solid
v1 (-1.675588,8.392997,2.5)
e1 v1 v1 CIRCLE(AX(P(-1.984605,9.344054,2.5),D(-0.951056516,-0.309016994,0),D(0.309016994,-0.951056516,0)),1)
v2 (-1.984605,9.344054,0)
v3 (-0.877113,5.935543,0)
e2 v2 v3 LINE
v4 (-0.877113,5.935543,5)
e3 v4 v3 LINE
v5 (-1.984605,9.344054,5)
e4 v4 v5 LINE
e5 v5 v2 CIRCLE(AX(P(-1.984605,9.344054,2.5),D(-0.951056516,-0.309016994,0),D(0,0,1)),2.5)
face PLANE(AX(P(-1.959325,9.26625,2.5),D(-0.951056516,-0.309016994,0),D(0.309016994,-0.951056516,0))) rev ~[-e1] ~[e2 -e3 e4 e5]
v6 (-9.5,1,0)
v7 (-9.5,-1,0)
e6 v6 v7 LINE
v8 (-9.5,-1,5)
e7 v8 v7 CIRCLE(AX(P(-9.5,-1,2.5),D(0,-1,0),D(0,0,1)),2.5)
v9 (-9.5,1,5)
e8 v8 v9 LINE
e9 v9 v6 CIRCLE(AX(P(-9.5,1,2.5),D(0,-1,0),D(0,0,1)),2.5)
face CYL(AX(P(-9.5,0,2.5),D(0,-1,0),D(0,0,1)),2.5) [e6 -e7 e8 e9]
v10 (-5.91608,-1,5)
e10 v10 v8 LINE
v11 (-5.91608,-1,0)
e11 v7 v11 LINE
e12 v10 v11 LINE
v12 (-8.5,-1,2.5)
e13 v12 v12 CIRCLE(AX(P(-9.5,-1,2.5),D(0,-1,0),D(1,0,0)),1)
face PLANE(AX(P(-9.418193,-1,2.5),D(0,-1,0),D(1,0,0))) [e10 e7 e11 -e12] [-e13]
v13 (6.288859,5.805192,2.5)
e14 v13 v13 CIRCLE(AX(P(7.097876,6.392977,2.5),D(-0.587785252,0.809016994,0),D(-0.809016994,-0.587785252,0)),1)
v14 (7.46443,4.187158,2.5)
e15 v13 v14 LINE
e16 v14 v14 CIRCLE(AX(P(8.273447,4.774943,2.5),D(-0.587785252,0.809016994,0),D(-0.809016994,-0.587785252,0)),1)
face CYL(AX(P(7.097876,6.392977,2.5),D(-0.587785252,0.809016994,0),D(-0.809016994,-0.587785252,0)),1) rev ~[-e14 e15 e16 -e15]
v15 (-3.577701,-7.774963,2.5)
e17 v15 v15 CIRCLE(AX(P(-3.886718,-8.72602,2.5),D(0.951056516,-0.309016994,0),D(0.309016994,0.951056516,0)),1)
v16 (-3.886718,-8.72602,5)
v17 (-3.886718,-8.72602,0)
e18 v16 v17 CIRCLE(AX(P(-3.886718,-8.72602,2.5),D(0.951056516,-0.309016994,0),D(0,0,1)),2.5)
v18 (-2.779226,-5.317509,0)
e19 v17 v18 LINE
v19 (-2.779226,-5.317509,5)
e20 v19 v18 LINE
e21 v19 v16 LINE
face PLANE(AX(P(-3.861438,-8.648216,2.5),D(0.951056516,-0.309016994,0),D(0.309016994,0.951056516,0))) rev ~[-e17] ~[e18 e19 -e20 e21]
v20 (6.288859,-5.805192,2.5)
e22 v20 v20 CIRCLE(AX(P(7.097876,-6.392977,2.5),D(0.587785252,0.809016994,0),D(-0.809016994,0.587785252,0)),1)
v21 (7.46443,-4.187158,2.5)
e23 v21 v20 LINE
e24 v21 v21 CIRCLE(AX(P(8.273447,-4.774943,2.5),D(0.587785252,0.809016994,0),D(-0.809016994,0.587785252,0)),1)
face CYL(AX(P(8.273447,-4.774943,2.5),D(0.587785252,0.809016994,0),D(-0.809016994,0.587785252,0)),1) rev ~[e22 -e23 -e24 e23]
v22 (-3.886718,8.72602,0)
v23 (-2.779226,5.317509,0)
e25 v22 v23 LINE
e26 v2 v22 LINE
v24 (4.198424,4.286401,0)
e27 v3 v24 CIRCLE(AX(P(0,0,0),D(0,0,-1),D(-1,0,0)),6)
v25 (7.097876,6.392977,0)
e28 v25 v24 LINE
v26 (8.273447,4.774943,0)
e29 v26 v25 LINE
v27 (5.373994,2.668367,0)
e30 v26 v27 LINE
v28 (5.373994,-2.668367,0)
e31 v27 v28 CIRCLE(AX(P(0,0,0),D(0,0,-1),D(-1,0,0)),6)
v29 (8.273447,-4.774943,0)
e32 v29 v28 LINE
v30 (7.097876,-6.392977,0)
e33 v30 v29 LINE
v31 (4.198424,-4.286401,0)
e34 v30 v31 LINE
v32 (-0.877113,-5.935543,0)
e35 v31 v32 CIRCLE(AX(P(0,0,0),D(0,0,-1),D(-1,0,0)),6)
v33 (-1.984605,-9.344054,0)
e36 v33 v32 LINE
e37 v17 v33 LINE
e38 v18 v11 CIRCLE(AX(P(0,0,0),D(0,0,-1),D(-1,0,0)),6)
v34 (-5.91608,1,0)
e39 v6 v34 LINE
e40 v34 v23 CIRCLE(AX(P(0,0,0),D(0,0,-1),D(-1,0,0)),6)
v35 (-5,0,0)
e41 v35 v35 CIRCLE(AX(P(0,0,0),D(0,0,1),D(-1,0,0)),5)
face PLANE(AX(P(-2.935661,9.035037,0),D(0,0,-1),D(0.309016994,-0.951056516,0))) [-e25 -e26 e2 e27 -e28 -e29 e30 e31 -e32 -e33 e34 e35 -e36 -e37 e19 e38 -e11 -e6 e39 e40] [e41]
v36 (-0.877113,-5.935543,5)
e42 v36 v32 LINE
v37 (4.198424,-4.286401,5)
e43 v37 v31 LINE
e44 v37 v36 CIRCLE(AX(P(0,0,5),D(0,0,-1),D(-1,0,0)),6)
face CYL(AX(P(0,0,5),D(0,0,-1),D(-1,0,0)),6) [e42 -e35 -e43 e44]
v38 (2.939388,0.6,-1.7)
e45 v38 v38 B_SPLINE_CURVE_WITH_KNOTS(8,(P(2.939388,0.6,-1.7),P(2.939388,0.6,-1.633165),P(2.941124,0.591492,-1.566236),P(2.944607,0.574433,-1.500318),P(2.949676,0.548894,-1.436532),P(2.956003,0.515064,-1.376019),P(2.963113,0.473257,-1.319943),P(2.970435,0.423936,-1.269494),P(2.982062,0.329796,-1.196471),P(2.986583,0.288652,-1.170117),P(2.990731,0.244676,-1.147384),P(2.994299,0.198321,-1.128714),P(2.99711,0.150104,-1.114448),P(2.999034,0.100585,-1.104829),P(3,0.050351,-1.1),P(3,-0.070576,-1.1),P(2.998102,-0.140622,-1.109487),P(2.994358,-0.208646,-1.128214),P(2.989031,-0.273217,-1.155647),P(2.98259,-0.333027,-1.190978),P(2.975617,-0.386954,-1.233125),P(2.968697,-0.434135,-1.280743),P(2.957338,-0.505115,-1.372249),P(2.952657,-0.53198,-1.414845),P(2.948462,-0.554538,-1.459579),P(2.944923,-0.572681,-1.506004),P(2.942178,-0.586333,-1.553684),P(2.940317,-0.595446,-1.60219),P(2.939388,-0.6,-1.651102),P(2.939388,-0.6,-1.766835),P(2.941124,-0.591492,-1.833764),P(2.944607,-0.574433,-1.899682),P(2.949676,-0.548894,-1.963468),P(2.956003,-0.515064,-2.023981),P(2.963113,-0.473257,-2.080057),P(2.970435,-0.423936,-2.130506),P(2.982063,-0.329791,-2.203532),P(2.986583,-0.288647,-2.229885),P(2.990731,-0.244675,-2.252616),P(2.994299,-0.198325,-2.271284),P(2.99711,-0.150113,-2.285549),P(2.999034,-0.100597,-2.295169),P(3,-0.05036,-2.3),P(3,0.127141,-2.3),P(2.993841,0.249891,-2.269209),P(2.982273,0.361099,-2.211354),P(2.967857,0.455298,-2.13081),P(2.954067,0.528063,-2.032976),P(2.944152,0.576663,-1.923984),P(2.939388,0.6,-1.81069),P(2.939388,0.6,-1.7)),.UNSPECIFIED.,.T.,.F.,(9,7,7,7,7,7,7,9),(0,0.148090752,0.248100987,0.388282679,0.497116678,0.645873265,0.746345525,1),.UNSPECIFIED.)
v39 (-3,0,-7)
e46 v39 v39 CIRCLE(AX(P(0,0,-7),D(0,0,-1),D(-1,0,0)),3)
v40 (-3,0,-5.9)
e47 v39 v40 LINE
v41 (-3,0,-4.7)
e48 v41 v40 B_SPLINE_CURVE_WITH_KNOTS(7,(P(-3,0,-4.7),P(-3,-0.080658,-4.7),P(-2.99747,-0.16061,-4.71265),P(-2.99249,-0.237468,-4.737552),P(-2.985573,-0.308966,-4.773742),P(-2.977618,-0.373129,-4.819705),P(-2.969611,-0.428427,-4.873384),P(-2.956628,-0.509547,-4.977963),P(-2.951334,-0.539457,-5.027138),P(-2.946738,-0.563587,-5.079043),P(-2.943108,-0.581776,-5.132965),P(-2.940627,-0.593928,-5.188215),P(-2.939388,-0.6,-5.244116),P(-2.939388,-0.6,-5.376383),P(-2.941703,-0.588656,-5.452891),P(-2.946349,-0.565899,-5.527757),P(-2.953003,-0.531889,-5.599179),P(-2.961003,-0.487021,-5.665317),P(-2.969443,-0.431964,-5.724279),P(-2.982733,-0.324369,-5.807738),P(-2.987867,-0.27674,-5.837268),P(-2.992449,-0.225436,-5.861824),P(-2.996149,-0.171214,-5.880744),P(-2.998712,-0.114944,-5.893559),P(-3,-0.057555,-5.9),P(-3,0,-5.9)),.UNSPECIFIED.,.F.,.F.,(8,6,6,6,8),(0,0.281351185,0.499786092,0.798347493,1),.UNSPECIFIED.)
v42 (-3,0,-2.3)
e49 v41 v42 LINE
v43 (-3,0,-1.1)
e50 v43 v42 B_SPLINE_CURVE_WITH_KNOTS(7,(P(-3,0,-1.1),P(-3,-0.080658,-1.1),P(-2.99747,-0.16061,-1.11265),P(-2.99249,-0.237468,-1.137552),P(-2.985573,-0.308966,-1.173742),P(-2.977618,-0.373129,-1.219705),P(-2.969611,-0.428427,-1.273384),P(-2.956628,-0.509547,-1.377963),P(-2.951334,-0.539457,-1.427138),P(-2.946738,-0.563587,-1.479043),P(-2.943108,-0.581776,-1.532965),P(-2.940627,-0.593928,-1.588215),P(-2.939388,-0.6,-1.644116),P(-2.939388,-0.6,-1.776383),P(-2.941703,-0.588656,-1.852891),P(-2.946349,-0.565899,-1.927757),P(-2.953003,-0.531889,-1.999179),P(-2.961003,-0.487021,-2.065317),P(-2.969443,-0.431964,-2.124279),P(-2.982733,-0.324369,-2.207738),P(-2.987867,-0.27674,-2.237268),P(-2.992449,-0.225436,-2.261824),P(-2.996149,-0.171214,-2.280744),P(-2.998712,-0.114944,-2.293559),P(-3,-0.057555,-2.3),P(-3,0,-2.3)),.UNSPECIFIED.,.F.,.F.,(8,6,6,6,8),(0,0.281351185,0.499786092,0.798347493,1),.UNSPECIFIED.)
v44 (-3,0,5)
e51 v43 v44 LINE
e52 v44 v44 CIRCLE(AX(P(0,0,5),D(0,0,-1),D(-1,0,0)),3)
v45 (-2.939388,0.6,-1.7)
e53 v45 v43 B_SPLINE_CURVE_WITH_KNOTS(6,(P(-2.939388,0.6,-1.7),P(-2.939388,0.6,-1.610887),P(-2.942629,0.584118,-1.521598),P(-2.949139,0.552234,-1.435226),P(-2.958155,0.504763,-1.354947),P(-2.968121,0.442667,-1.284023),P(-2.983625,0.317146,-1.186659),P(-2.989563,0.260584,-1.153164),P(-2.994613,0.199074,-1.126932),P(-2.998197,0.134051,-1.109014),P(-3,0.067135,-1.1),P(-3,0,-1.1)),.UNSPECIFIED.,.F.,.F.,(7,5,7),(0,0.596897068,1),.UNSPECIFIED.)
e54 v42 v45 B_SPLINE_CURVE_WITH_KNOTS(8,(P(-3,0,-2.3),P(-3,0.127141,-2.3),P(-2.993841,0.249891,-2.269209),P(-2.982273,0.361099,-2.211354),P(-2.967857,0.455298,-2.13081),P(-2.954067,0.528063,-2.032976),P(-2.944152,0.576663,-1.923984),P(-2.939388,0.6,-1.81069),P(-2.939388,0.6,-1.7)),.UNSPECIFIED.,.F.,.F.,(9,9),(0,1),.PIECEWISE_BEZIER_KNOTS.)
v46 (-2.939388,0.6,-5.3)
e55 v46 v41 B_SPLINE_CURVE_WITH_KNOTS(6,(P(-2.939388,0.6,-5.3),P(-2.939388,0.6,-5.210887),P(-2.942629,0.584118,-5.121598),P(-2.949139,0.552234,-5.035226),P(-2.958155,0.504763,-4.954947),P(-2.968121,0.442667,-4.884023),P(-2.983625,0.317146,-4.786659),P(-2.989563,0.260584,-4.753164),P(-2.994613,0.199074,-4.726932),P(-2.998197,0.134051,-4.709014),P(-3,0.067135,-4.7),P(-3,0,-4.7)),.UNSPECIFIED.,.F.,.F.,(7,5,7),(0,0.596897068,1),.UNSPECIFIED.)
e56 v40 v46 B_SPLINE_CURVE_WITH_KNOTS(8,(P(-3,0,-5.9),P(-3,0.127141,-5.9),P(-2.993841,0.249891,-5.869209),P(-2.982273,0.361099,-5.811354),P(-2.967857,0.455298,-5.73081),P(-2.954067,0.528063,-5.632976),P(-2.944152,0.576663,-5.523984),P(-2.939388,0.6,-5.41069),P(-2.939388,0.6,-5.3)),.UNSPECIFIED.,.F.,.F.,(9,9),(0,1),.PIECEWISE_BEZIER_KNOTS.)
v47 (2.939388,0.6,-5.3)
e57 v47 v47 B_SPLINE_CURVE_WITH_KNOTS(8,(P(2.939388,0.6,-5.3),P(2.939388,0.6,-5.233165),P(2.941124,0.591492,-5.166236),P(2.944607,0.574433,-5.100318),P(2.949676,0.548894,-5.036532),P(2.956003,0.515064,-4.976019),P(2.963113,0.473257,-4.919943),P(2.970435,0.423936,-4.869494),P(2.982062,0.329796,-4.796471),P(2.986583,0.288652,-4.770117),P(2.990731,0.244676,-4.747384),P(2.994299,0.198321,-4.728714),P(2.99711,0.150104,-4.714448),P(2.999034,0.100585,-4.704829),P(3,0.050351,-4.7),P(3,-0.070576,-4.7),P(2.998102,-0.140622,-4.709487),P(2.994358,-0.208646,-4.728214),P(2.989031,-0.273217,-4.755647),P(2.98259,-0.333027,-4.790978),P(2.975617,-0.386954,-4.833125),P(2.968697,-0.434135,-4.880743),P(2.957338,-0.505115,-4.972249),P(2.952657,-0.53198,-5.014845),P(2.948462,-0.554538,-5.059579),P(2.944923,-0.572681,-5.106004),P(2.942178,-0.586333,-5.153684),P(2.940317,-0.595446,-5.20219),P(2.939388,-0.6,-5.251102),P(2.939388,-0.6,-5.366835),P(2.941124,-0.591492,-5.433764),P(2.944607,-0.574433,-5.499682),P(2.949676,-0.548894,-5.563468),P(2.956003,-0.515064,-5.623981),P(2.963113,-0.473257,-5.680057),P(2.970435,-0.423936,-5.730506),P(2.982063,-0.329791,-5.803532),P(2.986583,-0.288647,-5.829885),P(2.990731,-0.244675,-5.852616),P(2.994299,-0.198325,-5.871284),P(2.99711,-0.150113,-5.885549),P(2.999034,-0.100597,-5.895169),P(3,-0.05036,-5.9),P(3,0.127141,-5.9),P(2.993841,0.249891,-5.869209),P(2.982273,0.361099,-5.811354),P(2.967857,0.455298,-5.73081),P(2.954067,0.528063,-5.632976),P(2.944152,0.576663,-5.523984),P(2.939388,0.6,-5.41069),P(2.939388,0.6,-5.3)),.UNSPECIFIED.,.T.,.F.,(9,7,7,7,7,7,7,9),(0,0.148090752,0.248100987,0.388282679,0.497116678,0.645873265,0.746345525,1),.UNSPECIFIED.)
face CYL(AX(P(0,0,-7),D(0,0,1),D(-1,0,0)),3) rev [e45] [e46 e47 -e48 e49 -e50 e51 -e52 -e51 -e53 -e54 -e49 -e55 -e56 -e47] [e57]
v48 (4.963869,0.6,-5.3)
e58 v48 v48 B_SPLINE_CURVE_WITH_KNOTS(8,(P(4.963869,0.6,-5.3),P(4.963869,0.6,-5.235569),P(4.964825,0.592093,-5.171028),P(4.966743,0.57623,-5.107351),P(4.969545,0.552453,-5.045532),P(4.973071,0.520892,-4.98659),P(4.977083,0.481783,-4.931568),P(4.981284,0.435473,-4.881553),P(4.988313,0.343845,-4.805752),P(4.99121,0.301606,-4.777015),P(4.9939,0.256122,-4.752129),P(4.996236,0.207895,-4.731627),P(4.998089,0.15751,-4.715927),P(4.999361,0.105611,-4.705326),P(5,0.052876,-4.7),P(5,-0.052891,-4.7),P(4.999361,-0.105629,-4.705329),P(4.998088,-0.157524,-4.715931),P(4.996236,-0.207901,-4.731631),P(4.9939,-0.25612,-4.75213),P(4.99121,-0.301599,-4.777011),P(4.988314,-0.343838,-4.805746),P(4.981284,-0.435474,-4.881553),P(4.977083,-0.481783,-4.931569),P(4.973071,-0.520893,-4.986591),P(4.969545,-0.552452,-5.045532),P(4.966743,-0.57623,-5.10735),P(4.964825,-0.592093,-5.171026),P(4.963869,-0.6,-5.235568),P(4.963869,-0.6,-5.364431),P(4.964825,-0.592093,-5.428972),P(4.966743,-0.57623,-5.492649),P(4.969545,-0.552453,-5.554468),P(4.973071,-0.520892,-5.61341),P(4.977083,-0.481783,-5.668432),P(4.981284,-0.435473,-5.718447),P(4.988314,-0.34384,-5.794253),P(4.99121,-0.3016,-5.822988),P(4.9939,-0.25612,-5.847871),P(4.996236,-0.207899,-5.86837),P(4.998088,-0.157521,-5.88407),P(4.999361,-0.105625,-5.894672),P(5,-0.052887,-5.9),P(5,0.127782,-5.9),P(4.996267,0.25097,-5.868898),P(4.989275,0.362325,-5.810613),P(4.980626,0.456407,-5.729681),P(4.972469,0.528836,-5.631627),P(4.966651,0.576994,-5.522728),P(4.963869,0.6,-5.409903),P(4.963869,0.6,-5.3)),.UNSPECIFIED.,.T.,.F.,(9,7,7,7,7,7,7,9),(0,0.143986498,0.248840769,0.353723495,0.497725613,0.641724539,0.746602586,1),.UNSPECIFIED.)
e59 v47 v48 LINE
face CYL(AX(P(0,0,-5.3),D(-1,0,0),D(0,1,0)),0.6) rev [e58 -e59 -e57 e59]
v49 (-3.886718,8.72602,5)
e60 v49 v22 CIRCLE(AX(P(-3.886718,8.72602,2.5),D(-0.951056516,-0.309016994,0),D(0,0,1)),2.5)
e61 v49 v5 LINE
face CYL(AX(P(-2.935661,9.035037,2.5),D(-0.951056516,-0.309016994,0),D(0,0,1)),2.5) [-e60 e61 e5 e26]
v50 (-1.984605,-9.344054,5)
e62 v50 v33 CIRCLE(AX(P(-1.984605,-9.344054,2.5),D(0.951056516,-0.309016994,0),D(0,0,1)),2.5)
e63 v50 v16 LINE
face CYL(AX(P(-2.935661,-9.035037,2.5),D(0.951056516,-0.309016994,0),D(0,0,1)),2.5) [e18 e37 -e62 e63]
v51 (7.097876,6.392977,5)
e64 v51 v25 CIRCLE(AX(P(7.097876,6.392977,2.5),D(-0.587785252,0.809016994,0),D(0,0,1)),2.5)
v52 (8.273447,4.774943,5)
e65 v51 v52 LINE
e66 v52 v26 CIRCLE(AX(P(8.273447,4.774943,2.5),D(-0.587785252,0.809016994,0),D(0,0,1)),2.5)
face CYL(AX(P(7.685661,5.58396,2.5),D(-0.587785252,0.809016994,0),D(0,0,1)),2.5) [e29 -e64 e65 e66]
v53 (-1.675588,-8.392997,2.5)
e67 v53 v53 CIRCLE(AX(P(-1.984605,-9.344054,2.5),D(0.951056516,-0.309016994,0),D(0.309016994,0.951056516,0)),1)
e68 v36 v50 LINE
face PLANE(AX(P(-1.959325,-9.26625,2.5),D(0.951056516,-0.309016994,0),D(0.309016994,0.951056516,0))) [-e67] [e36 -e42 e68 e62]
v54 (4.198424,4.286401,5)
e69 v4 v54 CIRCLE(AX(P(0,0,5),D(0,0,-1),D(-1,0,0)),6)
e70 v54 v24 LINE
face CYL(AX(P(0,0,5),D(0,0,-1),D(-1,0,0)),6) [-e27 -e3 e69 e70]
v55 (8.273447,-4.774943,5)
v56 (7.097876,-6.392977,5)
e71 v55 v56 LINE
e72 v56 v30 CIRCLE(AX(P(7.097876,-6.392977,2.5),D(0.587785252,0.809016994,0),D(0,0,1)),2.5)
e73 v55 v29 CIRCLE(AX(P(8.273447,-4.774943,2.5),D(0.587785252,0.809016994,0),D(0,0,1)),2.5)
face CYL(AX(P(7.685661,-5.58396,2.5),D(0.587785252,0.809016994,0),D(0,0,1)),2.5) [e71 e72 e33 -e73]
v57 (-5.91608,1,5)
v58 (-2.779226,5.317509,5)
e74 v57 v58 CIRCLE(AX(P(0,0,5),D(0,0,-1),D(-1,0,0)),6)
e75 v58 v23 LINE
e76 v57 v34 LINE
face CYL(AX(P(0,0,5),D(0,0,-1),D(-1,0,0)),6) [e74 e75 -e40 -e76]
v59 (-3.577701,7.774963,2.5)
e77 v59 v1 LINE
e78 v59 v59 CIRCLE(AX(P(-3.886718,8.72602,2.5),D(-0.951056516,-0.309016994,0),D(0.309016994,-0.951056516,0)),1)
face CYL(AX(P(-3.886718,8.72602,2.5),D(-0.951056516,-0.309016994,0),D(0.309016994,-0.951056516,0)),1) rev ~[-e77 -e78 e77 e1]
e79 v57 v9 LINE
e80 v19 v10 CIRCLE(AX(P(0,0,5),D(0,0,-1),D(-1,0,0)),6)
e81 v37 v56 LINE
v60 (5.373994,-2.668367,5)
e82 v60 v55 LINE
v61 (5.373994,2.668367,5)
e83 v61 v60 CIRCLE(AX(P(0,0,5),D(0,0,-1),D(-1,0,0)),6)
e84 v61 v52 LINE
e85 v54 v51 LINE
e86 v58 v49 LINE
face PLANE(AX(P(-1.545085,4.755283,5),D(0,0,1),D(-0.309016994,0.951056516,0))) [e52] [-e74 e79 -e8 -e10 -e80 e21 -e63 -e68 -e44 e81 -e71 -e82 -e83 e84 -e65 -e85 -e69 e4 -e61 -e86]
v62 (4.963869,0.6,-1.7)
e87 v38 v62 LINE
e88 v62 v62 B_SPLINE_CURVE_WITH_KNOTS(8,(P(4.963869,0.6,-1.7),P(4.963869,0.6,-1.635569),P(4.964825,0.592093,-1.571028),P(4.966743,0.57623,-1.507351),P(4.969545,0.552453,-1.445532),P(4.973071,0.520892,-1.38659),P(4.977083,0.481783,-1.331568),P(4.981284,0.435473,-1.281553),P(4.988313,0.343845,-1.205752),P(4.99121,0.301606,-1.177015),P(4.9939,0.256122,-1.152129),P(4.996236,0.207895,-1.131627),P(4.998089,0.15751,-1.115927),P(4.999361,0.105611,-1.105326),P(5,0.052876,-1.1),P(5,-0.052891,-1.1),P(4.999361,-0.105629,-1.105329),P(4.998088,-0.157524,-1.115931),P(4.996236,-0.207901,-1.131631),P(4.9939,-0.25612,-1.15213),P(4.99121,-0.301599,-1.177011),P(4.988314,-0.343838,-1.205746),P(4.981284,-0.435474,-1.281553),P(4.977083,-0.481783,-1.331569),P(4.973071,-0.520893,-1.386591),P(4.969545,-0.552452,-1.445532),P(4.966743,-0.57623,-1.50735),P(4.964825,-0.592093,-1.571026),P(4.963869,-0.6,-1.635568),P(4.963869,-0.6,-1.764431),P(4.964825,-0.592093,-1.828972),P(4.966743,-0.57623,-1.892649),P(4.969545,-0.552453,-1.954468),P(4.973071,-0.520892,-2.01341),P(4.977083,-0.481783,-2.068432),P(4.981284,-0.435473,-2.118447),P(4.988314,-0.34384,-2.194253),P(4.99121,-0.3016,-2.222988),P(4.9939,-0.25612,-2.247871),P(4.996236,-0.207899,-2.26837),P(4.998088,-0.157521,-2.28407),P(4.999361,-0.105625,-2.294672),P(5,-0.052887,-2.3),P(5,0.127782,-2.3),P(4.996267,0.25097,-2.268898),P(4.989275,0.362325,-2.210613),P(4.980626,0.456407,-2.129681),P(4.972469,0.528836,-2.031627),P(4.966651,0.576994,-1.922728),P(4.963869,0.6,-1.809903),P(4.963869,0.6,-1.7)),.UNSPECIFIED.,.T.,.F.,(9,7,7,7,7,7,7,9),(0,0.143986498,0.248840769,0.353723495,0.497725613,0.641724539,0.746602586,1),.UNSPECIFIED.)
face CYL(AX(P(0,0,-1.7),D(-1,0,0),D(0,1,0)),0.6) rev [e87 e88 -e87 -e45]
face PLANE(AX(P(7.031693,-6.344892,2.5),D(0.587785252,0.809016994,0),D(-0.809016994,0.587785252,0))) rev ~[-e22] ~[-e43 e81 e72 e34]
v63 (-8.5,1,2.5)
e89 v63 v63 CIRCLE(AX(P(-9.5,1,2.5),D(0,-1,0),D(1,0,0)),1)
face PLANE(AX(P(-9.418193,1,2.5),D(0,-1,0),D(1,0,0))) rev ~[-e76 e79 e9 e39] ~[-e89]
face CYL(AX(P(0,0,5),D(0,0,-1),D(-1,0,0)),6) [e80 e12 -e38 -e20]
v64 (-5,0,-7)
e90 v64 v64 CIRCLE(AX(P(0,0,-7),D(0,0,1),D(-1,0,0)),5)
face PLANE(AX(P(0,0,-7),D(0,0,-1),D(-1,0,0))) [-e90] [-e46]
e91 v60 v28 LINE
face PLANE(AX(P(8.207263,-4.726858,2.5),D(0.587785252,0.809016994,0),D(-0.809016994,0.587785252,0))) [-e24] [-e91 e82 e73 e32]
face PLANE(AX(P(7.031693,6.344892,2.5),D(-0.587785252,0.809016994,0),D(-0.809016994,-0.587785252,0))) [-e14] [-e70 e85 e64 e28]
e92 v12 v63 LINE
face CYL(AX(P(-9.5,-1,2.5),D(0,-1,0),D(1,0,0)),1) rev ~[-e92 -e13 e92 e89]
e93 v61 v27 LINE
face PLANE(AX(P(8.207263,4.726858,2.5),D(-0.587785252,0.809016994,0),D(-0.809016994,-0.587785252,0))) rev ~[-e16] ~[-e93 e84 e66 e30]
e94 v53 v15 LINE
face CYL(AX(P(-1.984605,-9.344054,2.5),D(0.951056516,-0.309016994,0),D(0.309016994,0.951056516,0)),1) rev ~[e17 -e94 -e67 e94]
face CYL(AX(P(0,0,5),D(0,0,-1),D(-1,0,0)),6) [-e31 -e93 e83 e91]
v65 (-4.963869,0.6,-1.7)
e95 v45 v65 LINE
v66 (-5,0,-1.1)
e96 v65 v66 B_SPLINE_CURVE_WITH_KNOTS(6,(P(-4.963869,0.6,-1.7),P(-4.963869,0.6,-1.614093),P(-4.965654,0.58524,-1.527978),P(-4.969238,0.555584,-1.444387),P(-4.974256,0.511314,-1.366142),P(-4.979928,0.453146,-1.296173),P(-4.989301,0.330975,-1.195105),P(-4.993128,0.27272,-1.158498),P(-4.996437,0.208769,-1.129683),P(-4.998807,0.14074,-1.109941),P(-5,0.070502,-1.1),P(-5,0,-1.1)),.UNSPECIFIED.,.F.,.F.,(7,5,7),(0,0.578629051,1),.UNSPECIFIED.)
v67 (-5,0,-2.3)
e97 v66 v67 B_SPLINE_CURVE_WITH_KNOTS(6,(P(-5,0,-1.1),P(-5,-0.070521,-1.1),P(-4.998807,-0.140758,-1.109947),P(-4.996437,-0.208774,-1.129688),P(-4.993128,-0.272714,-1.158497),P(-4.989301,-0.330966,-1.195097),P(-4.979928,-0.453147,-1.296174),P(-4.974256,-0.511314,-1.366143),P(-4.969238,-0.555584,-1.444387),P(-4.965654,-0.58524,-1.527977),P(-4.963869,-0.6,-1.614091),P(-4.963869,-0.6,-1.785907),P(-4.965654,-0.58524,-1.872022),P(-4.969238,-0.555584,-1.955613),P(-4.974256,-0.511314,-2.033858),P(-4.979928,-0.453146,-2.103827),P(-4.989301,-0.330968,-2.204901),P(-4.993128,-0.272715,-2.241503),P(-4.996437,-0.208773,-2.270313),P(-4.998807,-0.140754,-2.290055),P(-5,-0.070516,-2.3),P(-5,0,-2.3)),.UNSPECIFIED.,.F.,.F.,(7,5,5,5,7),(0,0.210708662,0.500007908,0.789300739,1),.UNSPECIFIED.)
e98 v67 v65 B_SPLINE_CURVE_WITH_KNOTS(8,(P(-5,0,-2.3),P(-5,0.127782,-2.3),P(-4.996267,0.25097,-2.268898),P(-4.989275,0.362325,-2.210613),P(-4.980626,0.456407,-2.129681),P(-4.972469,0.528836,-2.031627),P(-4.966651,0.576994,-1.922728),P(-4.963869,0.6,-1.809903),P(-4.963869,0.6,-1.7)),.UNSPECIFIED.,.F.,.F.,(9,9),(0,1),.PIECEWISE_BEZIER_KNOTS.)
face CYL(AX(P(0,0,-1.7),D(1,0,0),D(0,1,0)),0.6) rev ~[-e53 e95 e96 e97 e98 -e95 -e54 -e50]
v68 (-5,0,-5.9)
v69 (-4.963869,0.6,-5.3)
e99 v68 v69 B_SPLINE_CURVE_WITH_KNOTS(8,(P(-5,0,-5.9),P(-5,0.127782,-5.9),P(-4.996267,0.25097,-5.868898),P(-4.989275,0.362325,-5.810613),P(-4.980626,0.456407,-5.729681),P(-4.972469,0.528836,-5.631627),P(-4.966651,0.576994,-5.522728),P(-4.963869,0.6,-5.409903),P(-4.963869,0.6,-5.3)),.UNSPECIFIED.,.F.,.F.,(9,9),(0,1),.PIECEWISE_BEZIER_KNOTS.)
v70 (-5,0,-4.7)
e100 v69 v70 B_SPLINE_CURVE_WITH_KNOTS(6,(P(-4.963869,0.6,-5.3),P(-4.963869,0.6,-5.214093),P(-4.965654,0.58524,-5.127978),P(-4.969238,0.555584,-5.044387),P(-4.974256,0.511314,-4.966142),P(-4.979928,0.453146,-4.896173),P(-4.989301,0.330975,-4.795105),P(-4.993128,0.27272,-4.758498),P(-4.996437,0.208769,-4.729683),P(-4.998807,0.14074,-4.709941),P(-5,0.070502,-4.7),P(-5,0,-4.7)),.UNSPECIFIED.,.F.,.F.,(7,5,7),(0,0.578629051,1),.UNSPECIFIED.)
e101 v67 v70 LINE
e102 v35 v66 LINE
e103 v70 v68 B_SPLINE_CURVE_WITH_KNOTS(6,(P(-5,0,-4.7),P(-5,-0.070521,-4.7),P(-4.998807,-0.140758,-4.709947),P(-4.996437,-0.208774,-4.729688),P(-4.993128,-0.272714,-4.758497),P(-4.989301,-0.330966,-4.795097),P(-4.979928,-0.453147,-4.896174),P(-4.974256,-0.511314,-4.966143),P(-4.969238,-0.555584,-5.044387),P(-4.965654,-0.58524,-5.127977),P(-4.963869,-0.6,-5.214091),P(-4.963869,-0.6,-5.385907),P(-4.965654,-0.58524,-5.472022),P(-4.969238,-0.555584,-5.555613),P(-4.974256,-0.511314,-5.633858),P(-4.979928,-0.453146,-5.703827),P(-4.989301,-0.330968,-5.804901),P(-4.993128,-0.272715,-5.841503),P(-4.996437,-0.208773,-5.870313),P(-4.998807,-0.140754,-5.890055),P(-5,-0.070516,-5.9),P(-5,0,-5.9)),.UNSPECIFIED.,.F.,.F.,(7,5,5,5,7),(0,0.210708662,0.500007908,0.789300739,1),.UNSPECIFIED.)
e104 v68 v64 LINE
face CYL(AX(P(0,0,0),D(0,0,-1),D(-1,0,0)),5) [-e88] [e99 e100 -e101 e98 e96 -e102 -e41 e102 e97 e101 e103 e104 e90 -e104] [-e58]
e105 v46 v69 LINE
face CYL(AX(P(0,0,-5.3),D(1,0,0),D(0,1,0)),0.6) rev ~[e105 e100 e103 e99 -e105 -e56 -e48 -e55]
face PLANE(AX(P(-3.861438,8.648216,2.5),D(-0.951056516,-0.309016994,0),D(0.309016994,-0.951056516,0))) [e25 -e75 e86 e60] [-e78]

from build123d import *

# Parameters (mm, degrees)
F3_DEPTH      = 1
F4_R          = 1
F5_DEPTH      = 7.001
F6_COUNT      = 5
F7_R          = 0.6
F8_DEPTH      = 12.001
F8_DEPTH_BACK = 10.2969891848


with BuildPart() as f1:
    # F0 (on Front) → F1 (revolve)
    with BuildSketch(Plane.XZ):
        Polygon((-3, -7), (-3, 5), (-6, 5), (-6, 0), (-5, 0), (-5, -7), align=None)
    revolve(axis=Axis((0, 0, -4.9457359128), (0, 0, -1)))

    # F2 (on Front) → F3 (join, symmetric)
    with BuildSketch(Plane.XZ):
        with BuildLine():
            ThreePointArc((-7, 2.5), (-7.732233047, 4.267766953), (-9.5, 5))
            ThreePointArc((-9.5, 5), (-12, 2.5), (-9.5, 0))
            ThreePointArc((-9.5, 0), (-7.732233047, 0.732233047), (-7, 2.5))
        make_face()
        with BuildLine():
            Line((-5, 5), (-9.5, 5))
            ThreePointArc((-9.5, 5), (-7.732233047, 4.267766953), (-7, 2.5))
            ThreePointArc((-7, 2.5), (-7.732233047, 0.732233047), (-9.5, 0))
            Line((-9.5, 0), (-5, 0))
            Line((-5, 0), (-5, 5))
        make_face()
    extrude(amount=F3_DEPTH, both=True)

    # F4 (on face) → F5 (cut, through all)
    with BuildSketch(Plane.XZ.offset(1)):
        with Locations((-9.5, 2.5)):
            Circle(F4_R)
    extrude(amount=-F5_DEPTH, mode=Mode.SUBTRACT)

    # F6: F1 ×5 about axis
    f6_axis = Axis((0, 0, -7), (0, 0, 1))


with BuildPart() as f1_1:
    add(f1.part)
    for i in range(1, F6_COUNT):
        add(f1.part.rotate(f6_axis, i * 360 / F6_COUNT))

    # F7 (on Right) → F8 (cut, two sides)
    with BuildSketch(Plane.YZ) as f8_sk:
        with Locations((0, -1.7)):
            Circle(F7_R)
        with Locations((0, -5.3)):
            Circle(F7_R)
    extrude(amount=-F8_DEPTH, mode=Mode.SUBTRACT)
    extrude(f8_sk.sketch, amount=F8_DEPTH_BACK, mode=Mode.SUBTRACT)


solid = f1_1.part
